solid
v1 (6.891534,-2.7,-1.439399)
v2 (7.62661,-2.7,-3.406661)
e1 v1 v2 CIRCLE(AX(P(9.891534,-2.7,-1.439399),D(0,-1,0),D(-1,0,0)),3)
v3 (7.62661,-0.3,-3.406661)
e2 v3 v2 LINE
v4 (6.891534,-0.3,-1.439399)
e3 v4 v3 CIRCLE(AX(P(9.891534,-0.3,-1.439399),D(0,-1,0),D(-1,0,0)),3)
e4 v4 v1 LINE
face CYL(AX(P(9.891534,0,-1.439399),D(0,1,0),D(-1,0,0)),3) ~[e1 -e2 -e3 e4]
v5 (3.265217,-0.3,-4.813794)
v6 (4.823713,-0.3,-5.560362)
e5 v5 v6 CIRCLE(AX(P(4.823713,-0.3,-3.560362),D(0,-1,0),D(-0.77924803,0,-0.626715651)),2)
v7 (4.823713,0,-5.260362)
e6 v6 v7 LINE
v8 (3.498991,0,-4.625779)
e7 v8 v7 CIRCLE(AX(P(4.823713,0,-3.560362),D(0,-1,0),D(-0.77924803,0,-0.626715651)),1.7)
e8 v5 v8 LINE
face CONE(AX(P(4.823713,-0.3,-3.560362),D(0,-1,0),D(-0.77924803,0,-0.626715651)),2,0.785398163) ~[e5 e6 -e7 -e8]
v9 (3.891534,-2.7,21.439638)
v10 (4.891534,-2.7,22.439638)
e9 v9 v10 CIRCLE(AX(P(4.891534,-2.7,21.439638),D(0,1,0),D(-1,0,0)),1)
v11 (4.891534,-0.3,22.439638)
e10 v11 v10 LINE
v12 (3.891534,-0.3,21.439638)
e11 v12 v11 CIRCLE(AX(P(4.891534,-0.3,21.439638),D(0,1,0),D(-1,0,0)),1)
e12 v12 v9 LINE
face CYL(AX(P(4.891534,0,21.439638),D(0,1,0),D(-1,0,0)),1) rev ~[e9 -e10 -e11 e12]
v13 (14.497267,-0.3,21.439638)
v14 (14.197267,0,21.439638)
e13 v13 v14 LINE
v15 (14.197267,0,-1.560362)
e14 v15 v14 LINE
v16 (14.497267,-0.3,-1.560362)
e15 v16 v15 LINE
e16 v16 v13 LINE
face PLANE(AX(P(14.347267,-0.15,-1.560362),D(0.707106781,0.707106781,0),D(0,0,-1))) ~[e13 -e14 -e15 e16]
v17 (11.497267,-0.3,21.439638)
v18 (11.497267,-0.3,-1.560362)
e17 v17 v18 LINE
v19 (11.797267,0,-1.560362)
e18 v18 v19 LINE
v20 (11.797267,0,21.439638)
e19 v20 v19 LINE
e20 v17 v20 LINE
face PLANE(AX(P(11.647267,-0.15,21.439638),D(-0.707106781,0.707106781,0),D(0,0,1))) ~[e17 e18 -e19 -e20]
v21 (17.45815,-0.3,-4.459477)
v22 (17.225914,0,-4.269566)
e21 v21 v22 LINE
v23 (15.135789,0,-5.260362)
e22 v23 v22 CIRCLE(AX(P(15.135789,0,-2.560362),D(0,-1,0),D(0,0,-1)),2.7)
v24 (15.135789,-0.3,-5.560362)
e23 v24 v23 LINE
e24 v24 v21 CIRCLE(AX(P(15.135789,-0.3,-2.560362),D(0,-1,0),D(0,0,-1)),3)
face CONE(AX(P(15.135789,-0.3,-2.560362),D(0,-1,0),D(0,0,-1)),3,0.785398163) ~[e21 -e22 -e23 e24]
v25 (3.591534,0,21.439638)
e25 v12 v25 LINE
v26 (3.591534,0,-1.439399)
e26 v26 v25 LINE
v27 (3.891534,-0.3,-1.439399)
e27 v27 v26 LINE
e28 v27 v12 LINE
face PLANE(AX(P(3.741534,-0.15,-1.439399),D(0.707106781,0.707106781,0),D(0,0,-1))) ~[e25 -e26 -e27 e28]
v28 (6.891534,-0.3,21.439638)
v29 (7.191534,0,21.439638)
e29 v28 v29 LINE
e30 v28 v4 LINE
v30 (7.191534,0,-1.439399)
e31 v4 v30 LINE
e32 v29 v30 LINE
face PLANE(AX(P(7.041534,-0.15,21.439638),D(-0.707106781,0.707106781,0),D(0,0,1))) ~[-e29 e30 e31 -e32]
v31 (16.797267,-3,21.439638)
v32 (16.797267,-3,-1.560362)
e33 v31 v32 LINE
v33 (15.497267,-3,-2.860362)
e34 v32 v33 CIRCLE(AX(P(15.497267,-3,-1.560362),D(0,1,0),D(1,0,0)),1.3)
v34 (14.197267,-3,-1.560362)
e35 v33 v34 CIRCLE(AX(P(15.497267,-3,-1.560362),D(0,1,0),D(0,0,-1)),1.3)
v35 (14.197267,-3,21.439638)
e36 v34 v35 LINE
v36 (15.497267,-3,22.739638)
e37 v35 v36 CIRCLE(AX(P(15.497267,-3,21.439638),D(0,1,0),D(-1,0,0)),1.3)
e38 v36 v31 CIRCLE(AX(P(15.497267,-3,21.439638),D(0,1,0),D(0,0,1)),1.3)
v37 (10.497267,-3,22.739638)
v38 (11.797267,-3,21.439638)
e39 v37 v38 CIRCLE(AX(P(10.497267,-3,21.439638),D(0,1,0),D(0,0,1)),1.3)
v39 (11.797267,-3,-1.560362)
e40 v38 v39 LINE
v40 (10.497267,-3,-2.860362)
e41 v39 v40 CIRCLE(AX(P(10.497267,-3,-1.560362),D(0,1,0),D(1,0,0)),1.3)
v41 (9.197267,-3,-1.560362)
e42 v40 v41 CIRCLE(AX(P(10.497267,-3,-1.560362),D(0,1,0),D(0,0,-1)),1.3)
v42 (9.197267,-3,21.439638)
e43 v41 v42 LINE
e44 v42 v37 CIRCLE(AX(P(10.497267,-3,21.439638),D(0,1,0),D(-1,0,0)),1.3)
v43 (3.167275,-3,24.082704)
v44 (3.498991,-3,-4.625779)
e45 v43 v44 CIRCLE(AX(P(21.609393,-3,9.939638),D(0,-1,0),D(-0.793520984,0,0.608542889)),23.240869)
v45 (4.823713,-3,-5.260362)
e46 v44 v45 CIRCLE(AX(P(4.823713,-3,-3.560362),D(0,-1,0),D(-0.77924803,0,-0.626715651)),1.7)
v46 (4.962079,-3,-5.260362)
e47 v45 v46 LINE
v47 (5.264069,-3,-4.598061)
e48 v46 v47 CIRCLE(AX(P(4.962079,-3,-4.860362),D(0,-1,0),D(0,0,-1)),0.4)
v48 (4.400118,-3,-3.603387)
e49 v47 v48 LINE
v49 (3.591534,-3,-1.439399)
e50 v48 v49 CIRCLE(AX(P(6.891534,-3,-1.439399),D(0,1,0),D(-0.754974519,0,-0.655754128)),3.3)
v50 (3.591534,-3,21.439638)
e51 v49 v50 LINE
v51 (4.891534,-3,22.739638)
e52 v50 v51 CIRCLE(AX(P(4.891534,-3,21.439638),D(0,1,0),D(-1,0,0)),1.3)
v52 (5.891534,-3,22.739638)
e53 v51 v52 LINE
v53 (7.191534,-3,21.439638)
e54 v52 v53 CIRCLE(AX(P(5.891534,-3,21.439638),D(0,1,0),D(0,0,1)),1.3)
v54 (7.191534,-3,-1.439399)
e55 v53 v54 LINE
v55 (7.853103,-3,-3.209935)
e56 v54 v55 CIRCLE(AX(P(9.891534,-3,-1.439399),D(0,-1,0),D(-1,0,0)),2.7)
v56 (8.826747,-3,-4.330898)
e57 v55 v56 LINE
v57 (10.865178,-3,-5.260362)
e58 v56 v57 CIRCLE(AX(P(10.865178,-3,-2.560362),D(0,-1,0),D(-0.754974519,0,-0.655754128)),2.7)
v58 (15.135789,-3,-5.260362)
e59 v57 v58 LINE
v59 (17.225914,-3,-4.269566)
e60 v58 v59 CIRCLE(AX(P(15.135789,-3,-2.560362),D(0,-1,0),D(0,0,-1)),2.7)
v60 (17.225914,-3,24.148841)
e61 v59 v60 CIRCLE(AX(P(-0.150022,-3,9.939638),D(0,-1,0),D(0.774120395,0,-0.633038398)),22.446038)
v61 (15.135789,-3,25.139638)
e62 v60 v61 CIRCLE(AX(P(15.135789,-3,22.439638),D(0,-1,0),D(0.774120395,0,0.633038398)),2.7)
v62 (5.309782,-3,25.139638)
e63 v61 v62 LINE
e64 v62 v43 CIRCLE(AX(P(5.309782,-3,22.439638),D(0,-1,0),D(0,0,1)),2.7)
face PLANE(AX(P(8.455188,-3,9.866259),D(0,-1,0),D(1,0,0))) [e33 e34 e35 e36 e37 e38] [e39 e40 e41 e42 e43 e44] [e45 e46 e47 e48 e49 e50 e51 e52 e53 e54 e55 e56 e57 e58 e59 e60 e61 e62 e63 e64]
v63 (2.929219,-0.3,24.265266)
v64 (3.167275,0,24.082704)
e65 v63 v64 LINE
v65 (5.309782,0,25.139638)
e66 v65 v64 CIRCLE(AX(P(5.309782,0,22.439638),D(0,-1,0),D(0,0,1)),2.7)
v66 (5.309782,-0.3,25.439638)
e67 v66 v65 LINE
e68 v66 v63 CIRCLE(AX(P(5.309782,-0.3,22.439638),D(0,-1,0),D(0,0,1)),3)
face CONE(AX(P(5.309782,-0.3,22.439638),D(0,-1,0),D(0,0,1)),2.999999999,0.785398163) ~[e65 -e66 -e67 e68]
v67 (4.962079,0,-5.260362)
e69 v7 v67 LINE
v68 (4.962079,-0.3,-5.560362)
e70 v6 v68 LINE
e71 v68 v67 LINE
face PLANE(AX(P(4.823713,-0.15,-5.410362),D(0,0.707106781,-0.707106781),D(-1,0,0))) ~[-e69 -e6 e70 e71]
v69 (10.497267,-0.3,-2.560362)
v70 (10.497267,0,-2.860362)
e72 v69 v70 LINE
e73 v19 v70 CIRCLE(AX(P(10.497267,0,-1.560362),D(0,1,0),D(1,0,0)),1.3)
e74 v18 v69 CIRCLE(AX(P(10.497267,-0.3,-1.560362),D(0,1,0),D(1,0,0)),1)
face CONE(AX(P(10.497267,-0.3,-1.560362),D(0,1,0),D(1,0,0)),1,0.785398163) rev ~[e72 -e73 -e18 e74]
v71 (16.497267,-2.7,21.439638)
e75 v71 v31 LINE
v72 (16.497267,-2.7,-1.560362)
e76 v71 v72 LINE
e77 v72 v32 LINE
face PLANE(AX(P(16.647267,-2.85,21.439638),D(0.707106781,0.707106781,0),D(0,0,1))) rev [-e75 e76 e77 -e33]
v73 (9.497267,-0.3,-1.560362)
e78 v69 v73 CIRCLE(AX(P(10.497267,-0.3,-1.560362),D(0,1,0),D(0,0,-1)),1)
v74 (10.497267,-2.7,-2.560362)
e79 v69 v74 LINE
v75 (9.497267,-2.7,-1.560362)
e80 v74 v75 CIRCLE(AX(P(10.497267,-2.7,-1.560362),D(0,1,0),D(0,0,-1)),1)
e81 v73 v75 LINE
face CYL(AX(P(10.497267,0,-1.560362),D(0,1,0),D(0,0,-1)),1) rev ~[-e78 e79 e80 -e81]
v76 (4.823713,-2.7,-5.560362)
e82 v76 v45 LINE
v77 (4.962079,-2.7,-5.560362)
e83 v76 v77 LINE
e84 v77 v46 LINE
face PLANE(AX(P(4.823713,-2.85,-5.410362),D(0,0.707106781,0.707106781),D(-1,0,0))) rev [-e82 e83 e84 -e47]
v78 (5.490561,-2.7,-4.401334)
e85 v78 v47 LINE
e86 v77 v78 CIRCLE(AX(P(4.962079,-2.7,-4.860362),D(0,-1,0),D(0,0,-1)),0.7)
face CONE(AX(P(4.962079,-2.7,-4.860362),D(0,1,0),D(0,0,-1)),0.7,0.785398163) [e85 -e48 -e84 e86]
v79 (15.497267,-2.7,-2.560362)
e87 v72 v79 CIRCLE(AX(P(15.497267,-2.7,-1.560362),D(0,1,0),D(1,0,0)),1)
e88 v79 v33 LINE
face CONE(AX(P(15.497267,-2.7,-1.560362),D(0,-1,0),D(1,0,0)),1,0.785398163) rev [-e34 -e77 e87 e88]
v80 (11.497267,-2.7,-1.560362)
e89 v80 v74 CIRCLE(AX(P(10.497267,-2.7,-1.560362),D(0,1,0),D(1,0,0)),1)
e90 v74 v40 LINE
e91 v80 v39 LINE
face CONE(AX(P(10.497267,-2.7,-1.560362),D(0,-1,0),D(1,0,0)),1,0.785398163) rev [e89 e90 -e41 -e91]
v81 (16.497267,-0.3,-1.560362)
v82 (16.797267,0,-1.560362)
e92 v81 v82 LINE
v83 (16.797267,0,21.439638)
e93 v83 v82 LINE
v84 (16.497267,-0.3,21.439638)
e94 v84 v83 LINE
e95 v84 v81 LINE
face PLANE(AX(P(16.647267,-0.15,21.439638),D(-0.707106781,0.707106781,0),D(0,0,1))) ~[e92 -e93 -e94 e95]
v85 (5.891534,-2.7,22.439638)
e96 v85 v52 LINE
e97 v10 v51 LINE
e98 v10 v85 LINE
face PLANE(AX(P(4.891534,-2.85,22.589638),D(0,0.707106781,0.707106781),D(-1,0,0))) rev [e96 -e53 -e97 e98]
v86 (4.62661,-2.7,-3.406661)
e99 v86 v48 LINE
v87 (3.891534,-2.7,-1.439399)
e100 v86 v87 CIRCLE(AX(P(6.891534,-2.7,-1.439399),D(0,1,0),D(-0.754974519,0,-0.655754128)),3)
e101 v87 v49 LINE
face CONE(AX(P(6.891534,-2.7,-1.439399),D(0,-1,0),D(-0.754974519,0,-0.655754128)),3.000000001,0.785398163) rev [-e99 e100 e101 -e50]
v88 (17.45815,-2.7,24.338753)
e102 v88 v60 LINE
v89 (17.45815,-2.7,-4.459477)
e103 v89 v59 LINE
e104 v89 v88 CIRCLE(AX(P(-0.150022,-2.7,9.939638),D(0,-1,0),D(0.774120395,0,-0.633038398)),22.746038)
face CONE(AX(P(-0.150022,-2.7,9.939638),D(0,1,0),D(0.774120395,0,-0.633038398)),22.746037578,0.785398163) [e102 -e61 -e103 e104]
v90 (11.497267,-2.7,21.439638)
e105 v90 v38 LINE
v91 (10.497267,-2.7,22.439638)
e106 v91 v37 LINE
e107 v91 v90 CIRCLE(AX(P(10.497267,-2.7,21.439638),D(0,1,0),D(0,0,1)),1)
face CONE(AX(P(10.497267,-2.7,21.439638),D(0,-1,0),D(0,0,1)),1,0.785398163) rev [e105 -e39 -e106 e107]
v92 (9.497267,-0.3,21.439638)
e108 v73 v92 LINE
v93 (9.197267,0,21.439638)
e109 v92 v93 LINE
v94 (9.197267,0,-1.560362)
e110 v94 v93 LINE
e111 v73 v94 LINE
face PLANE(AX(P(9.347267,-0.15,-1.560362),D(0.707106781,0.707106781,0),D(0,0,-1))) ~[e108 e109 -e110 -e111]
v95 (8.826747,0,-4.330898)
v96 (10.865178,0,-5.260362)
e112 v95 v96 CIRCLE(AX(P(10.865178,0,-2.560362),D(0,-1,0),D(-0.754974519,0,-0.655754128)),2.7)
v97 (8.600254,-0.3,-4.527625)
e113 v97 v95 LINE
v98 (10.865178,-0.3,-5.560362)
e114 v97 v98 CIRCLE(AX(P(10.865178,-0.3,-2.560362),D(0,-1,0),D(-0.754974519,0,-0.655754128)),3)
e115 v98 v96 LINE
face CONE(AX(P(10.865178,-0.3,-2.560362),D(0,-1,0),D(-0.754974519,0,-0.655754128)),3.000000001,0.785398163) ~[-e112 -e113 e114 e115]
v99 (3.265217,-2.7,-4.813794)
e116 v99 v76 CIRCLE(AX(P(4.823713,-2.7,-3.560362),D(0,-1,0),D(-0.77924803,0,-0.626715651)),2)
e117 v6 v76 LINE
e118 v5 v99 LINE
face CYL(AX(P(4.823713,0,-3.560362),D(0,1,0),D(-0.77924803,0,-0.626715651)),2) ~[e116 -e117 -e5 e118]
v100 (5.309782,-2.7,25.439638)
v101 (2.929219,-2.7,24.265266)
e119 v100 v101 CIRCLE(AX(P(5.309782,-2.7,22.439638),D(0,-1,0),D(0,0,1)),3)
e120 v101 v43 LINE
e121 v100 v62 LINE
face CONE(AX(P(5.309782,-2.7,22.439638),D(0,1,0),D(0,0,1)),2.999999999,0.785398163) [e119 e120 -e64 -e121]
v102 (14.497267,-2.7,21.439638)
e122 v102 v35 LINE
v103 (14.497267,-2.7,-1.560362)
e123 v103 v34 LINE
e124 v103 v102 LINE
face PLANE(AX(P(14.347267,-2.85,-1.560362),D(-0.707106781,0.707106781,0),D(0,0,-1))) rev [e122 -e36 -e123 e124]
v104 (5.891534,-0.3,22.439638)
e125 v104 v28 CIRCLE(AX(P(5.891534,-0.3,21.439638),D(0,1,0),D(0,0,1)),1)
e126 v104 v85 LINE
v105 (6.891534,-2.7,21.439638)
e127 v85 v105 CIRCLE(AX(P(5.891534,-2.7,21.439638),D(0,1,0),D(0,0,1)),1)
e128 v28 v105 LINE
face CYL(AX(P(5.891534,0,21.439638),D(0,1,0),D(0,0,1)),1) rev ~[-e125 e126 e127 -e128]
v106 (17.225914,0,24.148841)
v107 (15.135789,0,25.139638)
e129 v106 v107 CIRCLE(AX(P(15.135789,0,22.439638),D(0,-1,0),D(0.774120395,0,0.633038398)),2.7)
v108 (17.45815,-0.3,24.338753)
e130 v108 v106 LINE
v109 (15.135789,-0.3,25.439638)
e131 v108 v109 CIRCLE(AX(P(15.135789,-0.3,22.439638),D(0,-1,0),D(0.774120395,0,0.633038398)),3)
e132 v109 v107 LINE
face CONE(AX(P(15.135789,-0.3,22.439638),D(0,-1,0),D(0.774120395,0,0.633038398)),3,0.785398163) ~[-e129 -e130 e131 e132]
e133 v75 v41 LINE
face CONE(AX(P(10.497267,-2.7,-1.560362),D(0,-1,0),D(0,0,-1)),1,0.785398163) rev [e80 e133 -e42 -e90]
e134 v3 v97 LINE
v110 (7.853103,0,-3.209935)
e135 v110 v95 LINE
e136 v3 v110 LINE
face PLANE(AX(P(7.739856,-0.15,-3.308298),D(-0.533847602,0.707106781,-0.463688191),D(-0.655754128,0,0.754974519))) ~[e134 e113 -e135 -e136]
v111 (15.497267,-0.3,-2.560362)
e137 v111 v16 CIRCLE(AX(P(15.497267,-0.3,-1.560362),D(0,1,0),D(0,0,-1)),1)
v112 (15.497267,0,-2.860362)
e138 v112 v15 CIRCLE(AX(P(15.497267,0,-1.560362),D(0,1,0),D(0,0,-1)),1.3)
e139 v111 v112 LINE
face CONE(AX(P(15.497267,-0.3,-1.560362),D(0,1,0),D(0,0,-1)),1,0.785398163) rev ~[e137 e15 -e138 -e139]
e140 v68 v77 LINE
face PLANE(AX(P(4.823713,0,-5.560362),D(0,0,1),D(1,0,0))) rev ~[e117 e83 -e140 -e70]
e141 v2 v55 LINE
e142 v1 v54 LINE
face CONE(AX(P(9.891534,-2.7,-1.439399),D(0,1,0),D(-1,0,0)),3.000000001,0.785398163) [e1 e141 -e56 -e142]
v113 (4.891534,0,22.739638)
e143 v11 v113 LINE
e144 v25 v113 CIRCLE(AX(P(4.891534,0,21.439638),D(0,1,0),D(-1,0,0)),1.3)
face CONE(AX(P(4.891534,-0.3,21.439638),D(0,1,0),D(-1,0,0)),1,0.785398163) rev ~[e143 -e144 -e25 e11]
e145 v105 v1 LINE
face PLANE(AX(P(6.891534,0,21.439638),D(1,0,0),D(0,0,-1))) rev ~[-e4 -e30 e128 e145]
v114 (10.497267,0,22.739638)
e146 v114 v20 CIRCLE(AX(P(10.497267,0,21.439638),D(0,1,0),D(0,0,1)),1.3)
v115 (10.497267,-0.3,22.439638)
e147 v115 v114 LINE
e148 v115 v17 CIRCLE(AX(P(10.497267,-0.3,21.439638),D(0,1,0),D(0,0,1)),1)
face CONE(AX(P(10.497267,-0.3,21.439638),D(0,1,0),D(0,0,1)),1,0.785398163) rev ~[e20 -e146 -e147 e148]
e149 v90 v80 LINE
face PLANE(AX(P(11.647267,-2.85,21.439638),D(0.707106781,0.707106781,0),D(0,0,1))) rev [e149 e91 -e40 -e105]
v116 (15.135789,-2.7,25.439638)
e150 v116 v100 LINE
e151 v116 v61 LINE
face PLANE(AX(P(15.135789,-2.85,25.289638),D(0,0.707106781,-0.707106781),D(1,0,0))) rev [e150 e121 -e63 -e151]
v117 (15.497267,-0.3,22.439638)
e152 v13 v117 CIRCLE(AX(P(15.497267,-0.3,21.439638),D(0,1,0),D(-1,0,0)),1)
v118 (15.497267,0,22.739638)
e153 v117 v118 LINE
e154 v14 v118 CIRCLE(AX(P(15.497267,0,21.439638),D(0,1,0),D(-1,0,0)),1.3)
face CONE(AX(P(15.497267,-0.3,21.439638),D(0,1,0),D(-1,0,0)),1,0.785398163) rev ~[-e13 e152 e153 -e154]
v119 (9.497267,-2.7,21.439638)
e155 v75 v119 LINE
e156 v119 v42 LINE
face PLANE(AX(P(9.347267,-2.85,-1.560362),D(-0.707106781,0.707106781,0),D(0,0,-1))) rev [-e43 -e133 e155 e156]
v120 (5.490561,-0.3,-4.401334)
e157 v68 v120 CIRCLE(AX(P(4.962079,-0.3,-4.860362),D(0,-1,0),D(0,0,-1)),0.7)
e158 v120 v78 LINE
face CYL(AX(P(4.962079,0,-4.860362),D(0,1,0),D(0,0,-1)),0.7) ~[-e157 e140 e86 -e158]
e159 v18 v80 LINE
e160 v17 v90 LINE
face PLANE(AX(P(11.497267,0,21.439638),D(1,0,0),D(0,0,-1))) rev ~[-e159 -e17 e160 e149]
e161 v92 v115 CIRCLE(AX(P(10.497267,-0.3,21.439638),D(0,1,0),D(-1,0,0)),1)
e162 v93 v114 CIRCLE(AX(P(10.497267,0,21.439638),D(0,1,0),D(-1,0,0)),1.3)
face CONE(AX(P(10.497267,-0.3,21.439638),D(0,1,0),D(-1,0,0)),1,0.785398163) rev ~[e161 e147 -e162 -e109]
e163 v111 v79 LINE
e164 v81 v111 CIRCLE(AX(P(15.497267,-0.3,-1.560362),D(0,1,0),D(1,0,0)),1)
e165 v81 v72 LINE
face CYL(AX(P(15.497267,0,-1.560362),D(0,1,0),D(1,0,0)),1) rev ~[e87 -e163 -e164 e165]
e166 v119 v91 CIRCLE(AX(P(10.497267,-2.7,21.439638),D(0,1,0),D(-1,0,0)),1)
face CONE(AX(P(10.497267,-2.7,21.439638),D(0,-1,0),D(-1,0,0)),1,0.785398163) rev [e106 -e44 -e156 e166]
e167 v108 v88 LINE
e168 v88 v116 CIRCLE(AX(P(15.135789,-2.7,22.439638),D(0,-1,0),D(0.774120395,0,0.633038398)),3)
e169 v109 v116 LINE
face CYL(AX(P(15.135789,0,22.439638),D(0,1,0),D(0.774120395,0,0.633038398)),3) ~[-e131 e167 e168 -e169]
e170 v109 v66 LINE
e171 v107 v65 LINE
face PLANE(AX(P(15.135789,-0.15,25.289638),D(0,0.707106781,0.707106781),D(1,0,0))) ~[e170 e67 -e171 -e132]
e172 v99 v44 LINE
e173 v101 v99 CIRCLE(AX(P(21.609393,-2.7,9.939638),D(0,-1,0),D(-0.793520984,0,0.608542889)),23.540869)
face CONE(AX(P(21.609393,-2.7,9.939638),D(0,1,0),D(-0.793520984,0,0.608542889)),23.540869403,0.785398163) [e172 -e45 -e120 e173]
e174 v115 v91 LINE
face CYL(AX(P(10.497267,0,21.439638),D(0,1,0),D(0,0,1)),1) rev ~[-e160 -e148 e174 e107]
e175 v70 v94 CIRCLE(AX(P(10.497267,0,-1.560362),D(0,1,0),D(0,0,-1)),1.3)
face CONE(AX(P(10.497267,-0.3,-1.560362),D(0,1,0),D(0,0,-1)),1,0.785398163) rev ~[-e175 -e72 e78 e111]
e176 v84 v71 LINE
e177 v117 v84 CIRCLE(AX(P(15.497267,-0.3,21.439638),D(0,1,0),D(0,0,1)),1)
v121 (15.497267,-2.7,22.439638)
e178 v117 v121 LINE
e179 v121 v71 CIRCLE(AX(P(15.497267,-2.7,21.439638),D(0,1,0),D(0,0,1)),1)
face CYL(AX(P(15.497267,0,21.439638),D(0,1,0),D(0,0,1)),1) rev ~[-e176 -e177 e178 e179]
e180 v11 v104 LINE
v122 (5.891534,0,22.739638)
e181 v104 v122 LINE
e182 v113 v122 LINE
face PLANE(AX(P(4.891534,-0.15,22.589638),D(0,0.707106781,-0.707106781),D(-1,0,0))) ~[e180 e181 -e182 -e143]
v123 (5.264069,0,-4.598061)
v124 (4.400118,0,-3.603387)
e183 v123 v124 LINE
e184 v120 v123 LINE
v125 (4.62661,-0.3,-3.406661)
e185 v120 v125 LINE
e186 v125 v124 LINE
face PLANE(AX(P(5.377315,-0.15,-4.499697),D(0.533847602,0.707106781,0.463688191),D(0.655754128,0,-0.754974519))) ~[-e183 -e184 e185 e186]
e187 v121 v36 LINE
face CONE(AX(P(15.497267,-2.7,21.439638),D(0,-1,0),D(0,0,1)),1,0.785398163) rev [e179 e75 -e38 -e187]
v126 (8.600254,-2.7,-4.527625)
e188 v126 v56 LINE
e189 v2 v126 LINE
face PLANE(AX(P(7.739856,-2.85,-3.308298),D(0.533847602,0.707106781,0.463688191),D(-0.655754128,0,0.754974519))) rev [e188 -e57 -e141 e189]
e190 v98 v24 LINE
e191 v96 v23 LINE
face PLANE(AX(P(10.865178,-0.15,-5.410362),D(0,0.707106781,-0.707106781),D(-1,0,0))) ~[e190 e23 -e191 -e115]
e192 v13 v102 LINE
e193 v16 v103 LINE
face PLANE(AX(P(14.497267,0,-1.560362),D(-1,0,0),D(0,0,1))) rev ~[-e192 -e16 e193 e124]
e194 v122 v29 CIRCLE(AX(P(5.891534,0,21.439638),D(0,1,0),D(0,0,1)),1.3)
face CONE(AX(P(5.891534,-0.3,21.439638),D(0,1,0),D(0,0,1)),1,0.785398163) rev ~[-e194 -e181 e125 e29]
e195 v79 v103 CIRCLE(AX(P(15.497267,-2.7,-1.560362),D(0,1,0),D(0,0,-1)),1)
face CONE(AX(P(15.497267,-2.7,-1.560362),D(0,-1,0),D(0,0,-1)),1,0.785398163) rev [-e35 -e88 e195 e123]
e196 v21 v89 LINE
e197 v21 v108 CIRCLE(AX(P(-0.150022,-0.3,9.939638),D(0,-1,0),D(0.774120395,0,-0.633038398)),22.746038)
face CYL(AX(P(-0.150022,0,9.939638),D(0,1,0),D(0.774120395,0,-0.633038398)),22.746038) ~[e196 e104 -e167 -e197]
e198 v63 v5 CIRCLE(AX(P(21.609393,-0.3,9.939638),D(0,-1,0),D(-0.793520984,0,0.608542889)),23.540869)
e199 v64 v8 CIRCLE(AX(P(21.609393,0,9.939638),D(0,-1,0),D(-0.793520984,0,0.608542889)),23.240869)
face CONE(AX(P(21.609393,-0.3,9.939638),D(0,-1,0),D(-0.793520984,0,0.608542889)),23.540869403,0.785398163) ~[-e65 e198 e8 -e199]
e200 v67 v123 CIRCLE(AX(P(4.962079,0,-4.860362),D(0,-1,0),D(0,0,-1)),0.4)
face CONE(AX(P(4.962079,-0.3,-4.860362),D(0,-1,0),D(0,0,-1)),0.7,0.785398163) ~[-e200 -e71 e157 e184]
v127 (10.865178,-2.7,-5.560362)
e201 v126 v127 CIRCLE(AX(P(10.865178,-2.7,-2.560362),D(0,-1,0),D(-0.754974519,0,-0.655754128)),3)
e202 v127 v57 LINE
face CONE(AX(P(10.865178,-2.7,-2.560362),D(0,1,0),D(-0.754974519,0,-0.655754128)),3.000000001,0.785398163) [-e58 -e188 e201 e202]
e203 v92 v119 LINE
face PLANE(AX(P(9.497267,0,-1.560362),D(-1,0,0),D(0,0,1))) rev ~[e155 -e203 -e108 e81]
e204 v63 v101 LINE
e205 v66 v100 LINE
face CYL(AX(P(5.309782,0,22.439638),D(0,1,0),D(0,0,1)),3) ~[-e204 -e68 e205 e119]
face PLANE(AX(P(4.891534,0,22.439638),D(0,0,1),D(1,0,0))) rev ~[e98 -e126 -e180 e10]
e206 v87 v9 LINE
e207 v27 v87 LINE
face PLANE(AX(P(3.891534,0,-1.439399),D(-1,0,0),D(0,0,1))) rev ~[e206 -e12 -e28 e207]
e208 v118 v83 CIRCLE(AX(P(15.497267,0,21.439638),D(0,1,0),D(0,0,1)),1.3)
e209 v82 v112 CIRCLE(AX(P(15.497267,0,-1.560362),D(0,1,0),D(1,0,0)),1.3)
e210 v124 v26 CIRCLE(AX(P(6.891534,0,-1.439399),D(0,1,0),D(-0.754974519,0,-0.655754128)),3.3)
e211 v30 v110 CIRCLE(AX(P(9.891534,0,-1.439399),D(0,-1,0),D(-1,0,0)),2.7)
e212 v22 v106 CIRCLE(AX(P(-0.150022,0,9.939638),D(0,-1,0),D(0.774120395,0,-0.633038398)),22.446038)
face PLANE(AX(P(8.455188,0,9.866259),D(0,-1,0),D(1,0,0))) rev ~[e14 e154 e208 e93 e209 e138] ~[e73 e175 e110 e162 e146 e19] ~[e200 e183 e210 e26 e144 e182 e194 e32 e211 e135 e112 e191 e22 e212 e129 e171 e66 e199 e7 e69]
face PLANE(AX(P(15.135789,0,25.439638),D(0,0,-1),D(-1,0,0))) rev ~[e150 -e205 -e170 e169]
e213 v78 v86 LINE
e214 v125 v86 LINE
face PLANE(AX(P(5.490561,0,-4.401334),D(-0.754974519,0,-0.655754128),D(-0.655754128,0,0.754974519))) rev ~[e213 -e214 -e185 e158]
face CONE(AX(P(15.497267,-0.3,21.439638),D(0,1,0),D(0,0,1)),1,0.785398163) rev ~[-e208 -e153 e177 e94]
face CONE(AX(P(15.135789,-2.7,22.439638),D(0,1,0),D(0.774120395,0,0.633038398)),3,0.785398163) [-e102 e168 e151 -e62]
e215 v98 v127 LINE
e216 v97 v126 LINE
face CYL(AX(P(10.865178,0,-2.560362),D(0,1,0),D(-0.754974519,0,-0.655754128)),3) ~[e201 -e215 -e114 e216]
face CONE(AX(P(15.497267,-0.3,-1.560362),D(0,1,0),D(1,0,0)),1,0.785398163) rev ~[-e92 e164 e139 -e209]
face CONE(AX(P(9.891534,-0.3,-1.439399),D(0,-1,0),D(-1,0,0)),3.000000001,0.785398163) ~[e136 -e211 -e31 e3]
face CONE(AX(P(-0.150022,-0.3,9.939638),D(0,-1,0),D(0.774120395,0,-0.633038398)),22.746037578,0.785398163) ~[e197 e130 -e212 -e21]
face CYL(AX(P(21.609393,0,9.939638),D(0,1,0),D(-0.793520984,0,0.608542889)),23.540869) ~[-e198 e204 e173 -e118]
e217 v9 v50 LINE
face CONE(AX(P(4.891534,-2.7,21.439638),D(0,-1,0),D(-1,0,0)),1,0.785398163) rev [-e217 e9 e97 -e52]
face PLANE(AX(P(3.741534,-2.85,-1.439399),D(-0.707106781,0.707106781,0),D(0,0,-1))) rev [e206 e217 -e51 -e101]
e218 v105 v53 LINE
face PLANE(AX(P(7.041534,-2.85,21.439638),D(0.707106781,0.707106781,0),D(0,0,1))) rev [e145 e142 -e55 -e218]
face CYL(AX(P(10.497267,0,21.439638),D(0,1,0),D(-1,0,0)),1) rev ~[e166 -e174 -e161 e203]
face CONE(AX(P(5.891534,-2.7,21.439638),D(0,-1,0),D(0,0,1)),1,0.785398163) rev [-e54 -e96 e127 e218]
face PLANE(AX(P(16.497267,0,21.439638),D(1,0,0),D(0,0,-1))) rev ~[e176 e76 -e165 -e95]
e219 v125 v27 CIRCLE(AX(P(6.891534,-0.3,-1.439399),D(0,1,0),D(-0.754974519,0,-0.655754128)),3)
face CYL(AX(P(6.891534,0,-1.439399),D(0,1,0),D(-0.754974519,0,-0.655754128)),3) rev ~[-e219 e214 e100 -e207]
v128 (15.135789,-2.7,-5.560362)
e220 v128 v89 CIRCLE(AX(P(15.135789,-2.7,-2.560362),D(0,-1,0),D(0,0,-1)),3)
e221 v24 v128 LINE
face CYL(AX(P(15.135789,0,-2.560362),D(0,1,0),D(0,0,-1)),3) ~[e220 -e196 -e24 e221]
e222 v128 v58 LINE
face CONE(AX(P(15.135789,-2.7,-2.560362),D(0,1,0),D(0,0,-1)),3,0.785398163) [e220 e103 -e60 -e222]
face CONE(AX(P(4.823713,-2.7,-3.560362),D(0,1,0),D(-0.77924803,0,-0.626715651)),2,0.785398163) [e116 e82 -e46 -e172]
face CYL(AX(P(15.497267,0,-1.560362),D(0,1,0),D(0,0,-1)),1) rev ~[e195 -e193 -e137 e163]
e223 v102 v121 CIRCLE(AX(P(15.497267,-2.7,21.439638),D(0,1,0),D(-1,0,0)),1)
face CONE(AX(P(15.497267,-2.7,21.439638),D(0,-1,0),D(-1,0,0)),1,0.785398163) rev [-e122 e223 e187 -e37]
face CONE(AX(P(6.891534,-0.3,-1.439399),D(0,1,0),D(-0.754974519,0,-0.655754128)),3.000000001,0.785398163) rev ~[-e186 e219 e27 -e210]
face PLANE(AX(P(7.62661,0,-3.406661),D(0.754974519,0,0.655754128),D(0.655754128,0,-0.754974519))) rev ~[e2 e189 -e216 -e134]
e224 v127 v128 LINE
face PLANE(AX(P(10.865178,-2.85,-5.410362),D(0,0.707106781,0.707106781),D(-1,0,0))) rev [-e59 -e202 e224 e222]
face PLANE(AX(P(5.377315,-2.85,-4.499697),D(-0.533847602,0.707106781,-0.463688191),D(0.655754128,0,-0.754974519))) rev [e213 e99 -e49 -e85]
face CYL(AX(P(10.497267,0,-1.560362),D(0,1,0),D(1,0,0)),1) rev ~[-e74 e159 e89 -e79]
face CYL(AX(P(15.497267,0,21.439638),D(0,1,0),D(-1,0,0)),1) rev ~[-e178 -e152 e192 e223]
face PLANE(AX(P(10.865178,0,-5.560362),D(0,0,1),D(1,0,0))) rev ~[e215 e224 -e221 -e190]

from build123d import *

# Parameters (mm, degrees)
F1_DEPTH = 3
F2_SIZE  = 0.3


with BuildPart() as f1:
    # F0 (on Front) → F1 (new body)
    with BuildSketch(Plane.XZ):
        with BuildLine():
            ThreePointArc((8.6002542206, -4.5276246292), (9.6205467371, -5.289994744), (10.8651777768, -5.5603622459))
            Line((10.8651777768, -5.5603622459), (15.1357887981, -5.5603622459))
            ThreePointArc((15.1357887981, -5.5603622459), (16.4208285671, -5.2712058032), (17.4581499839, -4.4594774406))
            ThreePointArc((17.4581499839, -4.4594774406), (22.5960159615, 9.9396377541), (17.4581499839, 24.3387529488))
            ThreePointArc((17.4581499839, 24.3387529488), (16.4208285671, 25.1504813114), (15.1357887981, 25.4396377541))
            Line((15.1357887981, 25.4396377541), (9.4972672168, 25.4396377541))
            Line((9.4972672168, 25.4396377541), (5.3097819548, 25.4396377541))
            ThreePointArc((5.3097819548, 25.4396377541), (3.9825453513, 25.1300732205), (2.9292190014, 24.2652664198))
            ThreePointArc((2.9292190014, 24.2652664198), (-1.9299052308, 9.6676498918), (3.2652167583, -4.8137935487))
            ThreePointArc((3.2652167583, -4.8137935487), (3.9596707492, -5.3640893047), (4.8237128183, -5.5603622459))
            Line((4.8237128183, -5.5603622459), (4.9620791267, -5.5603622459))
            ThreePointArc((4.9620791267, -5.5603622459), (5.5989933763, -5.1507761552), (5.4905612898, -4.4013343565))
            Line((5.4905612898, -4.4013343565), (4.6266101762, -3.4066611267))
            ThreePointArc((4.6266101762, -3.4066611267), (4.0813050346, -2.4894533447), (3.8915337324, -1.4393987434))
            Line((3.8915337324, -1.4393987434), (3.8915337324, 21.4396377541))
            ThreePointArc((3.8915337324, 21.4396377541), (4.1844269512, 22.1467445353), (4.8915337324, 22.4396377541))
            Line((4.8915337324, 22.4396377541), (5.8915337324, 22.4396377541))
            ThreePointArc((5.8915337324, 22.4396377541), (6.5986405136, 22.1467445353), (6.8915337324, 21.4396377541))
            Line((6.8915337324, 21.4396377541), (6.8915337324, -1.4393987434))
            ThreePointArc((6.8915337324, -1.4393987434), (7.0813050346, -2.4894533447), (7.6266101762, -3.4066611267))
            Line((7.6266101762, -3.4066611267), (8.6002542206, -4.5276246292))
        make_face()
        with BuildLine():
            ThreePointArc((10.4972672168, 22.4396377541), (11.204373998, 22.1467445353), (11.4972672168, 21.4396377541))
            Line((11.4972672168, 21.4396377541), (11.4972672168, -1.5603622459))
            ThreePointArc((11.4972672168, -1.5603622459), (11.204373998, -2.2674690271), (10.4972672168, -2.5603622459))
            ThreePointArc((10.4972672168, -2.5603622459), (9.7901604356, -2.2674690271), (9.4972672168, -1.5603622459))
            Line((9.4972672168, -1.5603622459), (9.4972672168, 21.4396377541))
            ThreePointArc((9.4972672168, 21.4396377541), (9.7901604356, 22.1467445353), (10.4972672168, 22.4396377541))
        make_face(mode=Mode.SUBTRACT)
        with BuildLine():
            Line((14.4972672168, -1.5603622459), (14.4972672168, 21.4396377541))
            ThreePointArc((14.4972672168, 21.4396377541), (14.7901604356, 22.1467445353), (15.4972672168, 22.4396377541))
            ThreePointArc((15.4972672168, 22.4396377541), (16.204373998, 22.1467445353), (16.4972672168, 21.4396377541))
            Line((16.4972672168, 21.4396377541), (16.4972672168, -1.5603622459))
            ThreePointArc((16.4972672168, -1.5603622459), (16.204373998, -2.2674690271), (15.4972672168, -2.5603622459))
            ThreePointArc((15.4972672168, -2.5603622459), (14.7901604356, -2.2674690271), (14.4972672168, -1.5603622459))
        make_face(mode=Mode.SUBTRACT)
    extrude(amount=F1_DEPTH)

    # F2
    f2_edges = [f1.edges().sort_by_distance(p)[0] for p in [
        (4.081305, -3, -2.489453),
        (3.891534, -3, 10.00012),
        (4.184427, -3, 22.146745),
        (5.391534, -3, 22.439638),
        (6.598641, -3, 22.146745),
        (6.891534, -3, 10.00012),
        (7.081305, -3, -2.489453),
        (8.113432, -3, -3.967143),
        (9.620547, -3, -5.289995),
        (13.000483, -3, -5.560362),
        (16.420829, -3, -5.271206),
        (22.596016, -3, 9.939638),
        (16.420829, -3, 25.150481),
        (10.222785, -3, 25.439638),
        (3.982545, -3, 25.130073),
        (-1.929905, -3, 9.66765),
        (3.959671, -3, -5.364089),
        (4.892896, -3, -5.560362),
        (5.598993, -3, -5.150776),
        (5.058586, -3, -3.903998),
        (10.497267, -3, 22.439638),
        (11.497267, -3, 9.939638),
        (10.497267, -3, -2.560362),
        (9.497267, -3, 9.939638),
        (15.497267, -3, -2.560362),
        (14.497267, -3, 9.939638),
        (15.497267, -3, 22.439638),
        (16.497267, -3, 9.939638),
        (4.081305, 0, -2.489453),
        (3.891534, 0, 10.00012),
        (4.184427, 0, 22.146745),
        (5.391534, 0, 22.439638),
        (6.598641, 0, 22.146745),
        (6.891534, 0, 10.00012),
        (7.081305, 0, -2.489453),
        (8.113432, 0, -3.967143),
        (9.620547, 0, -5.289995),
        (13.000483, 0, -5.560362),
        (16.420829, 0, -5.271206),
        (22.596016, 0, 9.939638),
        (16.420829, 0, 25.150481),
        (10.222785, 0, 25.439638),
        (3.982545, 0, 25.130073),
        (-1.929905, 0, 9.66765),
        (3.959671, 0, -5.364089),
        (4.892896, 0, -5.560362),
        (5.598993, 0, -5.150776),
        (5.058586, 0, -3.903998),
        (10.497267, 0, 22.439638),
        (11.497267, 0, 9.939638),
        (10.497267, 0, -2.560362),
        (9.497267, 0, 9.939638),
        (15.497267, 0, -2.560362),
        (14.497267, 0, 9.939638),
        (15.497267, 0, 22.439638),
        (16.497267, 0, 9.939638),
    ]]
    chamfer(f2_edges, length=F2_SIZE)


solid = f1.part
